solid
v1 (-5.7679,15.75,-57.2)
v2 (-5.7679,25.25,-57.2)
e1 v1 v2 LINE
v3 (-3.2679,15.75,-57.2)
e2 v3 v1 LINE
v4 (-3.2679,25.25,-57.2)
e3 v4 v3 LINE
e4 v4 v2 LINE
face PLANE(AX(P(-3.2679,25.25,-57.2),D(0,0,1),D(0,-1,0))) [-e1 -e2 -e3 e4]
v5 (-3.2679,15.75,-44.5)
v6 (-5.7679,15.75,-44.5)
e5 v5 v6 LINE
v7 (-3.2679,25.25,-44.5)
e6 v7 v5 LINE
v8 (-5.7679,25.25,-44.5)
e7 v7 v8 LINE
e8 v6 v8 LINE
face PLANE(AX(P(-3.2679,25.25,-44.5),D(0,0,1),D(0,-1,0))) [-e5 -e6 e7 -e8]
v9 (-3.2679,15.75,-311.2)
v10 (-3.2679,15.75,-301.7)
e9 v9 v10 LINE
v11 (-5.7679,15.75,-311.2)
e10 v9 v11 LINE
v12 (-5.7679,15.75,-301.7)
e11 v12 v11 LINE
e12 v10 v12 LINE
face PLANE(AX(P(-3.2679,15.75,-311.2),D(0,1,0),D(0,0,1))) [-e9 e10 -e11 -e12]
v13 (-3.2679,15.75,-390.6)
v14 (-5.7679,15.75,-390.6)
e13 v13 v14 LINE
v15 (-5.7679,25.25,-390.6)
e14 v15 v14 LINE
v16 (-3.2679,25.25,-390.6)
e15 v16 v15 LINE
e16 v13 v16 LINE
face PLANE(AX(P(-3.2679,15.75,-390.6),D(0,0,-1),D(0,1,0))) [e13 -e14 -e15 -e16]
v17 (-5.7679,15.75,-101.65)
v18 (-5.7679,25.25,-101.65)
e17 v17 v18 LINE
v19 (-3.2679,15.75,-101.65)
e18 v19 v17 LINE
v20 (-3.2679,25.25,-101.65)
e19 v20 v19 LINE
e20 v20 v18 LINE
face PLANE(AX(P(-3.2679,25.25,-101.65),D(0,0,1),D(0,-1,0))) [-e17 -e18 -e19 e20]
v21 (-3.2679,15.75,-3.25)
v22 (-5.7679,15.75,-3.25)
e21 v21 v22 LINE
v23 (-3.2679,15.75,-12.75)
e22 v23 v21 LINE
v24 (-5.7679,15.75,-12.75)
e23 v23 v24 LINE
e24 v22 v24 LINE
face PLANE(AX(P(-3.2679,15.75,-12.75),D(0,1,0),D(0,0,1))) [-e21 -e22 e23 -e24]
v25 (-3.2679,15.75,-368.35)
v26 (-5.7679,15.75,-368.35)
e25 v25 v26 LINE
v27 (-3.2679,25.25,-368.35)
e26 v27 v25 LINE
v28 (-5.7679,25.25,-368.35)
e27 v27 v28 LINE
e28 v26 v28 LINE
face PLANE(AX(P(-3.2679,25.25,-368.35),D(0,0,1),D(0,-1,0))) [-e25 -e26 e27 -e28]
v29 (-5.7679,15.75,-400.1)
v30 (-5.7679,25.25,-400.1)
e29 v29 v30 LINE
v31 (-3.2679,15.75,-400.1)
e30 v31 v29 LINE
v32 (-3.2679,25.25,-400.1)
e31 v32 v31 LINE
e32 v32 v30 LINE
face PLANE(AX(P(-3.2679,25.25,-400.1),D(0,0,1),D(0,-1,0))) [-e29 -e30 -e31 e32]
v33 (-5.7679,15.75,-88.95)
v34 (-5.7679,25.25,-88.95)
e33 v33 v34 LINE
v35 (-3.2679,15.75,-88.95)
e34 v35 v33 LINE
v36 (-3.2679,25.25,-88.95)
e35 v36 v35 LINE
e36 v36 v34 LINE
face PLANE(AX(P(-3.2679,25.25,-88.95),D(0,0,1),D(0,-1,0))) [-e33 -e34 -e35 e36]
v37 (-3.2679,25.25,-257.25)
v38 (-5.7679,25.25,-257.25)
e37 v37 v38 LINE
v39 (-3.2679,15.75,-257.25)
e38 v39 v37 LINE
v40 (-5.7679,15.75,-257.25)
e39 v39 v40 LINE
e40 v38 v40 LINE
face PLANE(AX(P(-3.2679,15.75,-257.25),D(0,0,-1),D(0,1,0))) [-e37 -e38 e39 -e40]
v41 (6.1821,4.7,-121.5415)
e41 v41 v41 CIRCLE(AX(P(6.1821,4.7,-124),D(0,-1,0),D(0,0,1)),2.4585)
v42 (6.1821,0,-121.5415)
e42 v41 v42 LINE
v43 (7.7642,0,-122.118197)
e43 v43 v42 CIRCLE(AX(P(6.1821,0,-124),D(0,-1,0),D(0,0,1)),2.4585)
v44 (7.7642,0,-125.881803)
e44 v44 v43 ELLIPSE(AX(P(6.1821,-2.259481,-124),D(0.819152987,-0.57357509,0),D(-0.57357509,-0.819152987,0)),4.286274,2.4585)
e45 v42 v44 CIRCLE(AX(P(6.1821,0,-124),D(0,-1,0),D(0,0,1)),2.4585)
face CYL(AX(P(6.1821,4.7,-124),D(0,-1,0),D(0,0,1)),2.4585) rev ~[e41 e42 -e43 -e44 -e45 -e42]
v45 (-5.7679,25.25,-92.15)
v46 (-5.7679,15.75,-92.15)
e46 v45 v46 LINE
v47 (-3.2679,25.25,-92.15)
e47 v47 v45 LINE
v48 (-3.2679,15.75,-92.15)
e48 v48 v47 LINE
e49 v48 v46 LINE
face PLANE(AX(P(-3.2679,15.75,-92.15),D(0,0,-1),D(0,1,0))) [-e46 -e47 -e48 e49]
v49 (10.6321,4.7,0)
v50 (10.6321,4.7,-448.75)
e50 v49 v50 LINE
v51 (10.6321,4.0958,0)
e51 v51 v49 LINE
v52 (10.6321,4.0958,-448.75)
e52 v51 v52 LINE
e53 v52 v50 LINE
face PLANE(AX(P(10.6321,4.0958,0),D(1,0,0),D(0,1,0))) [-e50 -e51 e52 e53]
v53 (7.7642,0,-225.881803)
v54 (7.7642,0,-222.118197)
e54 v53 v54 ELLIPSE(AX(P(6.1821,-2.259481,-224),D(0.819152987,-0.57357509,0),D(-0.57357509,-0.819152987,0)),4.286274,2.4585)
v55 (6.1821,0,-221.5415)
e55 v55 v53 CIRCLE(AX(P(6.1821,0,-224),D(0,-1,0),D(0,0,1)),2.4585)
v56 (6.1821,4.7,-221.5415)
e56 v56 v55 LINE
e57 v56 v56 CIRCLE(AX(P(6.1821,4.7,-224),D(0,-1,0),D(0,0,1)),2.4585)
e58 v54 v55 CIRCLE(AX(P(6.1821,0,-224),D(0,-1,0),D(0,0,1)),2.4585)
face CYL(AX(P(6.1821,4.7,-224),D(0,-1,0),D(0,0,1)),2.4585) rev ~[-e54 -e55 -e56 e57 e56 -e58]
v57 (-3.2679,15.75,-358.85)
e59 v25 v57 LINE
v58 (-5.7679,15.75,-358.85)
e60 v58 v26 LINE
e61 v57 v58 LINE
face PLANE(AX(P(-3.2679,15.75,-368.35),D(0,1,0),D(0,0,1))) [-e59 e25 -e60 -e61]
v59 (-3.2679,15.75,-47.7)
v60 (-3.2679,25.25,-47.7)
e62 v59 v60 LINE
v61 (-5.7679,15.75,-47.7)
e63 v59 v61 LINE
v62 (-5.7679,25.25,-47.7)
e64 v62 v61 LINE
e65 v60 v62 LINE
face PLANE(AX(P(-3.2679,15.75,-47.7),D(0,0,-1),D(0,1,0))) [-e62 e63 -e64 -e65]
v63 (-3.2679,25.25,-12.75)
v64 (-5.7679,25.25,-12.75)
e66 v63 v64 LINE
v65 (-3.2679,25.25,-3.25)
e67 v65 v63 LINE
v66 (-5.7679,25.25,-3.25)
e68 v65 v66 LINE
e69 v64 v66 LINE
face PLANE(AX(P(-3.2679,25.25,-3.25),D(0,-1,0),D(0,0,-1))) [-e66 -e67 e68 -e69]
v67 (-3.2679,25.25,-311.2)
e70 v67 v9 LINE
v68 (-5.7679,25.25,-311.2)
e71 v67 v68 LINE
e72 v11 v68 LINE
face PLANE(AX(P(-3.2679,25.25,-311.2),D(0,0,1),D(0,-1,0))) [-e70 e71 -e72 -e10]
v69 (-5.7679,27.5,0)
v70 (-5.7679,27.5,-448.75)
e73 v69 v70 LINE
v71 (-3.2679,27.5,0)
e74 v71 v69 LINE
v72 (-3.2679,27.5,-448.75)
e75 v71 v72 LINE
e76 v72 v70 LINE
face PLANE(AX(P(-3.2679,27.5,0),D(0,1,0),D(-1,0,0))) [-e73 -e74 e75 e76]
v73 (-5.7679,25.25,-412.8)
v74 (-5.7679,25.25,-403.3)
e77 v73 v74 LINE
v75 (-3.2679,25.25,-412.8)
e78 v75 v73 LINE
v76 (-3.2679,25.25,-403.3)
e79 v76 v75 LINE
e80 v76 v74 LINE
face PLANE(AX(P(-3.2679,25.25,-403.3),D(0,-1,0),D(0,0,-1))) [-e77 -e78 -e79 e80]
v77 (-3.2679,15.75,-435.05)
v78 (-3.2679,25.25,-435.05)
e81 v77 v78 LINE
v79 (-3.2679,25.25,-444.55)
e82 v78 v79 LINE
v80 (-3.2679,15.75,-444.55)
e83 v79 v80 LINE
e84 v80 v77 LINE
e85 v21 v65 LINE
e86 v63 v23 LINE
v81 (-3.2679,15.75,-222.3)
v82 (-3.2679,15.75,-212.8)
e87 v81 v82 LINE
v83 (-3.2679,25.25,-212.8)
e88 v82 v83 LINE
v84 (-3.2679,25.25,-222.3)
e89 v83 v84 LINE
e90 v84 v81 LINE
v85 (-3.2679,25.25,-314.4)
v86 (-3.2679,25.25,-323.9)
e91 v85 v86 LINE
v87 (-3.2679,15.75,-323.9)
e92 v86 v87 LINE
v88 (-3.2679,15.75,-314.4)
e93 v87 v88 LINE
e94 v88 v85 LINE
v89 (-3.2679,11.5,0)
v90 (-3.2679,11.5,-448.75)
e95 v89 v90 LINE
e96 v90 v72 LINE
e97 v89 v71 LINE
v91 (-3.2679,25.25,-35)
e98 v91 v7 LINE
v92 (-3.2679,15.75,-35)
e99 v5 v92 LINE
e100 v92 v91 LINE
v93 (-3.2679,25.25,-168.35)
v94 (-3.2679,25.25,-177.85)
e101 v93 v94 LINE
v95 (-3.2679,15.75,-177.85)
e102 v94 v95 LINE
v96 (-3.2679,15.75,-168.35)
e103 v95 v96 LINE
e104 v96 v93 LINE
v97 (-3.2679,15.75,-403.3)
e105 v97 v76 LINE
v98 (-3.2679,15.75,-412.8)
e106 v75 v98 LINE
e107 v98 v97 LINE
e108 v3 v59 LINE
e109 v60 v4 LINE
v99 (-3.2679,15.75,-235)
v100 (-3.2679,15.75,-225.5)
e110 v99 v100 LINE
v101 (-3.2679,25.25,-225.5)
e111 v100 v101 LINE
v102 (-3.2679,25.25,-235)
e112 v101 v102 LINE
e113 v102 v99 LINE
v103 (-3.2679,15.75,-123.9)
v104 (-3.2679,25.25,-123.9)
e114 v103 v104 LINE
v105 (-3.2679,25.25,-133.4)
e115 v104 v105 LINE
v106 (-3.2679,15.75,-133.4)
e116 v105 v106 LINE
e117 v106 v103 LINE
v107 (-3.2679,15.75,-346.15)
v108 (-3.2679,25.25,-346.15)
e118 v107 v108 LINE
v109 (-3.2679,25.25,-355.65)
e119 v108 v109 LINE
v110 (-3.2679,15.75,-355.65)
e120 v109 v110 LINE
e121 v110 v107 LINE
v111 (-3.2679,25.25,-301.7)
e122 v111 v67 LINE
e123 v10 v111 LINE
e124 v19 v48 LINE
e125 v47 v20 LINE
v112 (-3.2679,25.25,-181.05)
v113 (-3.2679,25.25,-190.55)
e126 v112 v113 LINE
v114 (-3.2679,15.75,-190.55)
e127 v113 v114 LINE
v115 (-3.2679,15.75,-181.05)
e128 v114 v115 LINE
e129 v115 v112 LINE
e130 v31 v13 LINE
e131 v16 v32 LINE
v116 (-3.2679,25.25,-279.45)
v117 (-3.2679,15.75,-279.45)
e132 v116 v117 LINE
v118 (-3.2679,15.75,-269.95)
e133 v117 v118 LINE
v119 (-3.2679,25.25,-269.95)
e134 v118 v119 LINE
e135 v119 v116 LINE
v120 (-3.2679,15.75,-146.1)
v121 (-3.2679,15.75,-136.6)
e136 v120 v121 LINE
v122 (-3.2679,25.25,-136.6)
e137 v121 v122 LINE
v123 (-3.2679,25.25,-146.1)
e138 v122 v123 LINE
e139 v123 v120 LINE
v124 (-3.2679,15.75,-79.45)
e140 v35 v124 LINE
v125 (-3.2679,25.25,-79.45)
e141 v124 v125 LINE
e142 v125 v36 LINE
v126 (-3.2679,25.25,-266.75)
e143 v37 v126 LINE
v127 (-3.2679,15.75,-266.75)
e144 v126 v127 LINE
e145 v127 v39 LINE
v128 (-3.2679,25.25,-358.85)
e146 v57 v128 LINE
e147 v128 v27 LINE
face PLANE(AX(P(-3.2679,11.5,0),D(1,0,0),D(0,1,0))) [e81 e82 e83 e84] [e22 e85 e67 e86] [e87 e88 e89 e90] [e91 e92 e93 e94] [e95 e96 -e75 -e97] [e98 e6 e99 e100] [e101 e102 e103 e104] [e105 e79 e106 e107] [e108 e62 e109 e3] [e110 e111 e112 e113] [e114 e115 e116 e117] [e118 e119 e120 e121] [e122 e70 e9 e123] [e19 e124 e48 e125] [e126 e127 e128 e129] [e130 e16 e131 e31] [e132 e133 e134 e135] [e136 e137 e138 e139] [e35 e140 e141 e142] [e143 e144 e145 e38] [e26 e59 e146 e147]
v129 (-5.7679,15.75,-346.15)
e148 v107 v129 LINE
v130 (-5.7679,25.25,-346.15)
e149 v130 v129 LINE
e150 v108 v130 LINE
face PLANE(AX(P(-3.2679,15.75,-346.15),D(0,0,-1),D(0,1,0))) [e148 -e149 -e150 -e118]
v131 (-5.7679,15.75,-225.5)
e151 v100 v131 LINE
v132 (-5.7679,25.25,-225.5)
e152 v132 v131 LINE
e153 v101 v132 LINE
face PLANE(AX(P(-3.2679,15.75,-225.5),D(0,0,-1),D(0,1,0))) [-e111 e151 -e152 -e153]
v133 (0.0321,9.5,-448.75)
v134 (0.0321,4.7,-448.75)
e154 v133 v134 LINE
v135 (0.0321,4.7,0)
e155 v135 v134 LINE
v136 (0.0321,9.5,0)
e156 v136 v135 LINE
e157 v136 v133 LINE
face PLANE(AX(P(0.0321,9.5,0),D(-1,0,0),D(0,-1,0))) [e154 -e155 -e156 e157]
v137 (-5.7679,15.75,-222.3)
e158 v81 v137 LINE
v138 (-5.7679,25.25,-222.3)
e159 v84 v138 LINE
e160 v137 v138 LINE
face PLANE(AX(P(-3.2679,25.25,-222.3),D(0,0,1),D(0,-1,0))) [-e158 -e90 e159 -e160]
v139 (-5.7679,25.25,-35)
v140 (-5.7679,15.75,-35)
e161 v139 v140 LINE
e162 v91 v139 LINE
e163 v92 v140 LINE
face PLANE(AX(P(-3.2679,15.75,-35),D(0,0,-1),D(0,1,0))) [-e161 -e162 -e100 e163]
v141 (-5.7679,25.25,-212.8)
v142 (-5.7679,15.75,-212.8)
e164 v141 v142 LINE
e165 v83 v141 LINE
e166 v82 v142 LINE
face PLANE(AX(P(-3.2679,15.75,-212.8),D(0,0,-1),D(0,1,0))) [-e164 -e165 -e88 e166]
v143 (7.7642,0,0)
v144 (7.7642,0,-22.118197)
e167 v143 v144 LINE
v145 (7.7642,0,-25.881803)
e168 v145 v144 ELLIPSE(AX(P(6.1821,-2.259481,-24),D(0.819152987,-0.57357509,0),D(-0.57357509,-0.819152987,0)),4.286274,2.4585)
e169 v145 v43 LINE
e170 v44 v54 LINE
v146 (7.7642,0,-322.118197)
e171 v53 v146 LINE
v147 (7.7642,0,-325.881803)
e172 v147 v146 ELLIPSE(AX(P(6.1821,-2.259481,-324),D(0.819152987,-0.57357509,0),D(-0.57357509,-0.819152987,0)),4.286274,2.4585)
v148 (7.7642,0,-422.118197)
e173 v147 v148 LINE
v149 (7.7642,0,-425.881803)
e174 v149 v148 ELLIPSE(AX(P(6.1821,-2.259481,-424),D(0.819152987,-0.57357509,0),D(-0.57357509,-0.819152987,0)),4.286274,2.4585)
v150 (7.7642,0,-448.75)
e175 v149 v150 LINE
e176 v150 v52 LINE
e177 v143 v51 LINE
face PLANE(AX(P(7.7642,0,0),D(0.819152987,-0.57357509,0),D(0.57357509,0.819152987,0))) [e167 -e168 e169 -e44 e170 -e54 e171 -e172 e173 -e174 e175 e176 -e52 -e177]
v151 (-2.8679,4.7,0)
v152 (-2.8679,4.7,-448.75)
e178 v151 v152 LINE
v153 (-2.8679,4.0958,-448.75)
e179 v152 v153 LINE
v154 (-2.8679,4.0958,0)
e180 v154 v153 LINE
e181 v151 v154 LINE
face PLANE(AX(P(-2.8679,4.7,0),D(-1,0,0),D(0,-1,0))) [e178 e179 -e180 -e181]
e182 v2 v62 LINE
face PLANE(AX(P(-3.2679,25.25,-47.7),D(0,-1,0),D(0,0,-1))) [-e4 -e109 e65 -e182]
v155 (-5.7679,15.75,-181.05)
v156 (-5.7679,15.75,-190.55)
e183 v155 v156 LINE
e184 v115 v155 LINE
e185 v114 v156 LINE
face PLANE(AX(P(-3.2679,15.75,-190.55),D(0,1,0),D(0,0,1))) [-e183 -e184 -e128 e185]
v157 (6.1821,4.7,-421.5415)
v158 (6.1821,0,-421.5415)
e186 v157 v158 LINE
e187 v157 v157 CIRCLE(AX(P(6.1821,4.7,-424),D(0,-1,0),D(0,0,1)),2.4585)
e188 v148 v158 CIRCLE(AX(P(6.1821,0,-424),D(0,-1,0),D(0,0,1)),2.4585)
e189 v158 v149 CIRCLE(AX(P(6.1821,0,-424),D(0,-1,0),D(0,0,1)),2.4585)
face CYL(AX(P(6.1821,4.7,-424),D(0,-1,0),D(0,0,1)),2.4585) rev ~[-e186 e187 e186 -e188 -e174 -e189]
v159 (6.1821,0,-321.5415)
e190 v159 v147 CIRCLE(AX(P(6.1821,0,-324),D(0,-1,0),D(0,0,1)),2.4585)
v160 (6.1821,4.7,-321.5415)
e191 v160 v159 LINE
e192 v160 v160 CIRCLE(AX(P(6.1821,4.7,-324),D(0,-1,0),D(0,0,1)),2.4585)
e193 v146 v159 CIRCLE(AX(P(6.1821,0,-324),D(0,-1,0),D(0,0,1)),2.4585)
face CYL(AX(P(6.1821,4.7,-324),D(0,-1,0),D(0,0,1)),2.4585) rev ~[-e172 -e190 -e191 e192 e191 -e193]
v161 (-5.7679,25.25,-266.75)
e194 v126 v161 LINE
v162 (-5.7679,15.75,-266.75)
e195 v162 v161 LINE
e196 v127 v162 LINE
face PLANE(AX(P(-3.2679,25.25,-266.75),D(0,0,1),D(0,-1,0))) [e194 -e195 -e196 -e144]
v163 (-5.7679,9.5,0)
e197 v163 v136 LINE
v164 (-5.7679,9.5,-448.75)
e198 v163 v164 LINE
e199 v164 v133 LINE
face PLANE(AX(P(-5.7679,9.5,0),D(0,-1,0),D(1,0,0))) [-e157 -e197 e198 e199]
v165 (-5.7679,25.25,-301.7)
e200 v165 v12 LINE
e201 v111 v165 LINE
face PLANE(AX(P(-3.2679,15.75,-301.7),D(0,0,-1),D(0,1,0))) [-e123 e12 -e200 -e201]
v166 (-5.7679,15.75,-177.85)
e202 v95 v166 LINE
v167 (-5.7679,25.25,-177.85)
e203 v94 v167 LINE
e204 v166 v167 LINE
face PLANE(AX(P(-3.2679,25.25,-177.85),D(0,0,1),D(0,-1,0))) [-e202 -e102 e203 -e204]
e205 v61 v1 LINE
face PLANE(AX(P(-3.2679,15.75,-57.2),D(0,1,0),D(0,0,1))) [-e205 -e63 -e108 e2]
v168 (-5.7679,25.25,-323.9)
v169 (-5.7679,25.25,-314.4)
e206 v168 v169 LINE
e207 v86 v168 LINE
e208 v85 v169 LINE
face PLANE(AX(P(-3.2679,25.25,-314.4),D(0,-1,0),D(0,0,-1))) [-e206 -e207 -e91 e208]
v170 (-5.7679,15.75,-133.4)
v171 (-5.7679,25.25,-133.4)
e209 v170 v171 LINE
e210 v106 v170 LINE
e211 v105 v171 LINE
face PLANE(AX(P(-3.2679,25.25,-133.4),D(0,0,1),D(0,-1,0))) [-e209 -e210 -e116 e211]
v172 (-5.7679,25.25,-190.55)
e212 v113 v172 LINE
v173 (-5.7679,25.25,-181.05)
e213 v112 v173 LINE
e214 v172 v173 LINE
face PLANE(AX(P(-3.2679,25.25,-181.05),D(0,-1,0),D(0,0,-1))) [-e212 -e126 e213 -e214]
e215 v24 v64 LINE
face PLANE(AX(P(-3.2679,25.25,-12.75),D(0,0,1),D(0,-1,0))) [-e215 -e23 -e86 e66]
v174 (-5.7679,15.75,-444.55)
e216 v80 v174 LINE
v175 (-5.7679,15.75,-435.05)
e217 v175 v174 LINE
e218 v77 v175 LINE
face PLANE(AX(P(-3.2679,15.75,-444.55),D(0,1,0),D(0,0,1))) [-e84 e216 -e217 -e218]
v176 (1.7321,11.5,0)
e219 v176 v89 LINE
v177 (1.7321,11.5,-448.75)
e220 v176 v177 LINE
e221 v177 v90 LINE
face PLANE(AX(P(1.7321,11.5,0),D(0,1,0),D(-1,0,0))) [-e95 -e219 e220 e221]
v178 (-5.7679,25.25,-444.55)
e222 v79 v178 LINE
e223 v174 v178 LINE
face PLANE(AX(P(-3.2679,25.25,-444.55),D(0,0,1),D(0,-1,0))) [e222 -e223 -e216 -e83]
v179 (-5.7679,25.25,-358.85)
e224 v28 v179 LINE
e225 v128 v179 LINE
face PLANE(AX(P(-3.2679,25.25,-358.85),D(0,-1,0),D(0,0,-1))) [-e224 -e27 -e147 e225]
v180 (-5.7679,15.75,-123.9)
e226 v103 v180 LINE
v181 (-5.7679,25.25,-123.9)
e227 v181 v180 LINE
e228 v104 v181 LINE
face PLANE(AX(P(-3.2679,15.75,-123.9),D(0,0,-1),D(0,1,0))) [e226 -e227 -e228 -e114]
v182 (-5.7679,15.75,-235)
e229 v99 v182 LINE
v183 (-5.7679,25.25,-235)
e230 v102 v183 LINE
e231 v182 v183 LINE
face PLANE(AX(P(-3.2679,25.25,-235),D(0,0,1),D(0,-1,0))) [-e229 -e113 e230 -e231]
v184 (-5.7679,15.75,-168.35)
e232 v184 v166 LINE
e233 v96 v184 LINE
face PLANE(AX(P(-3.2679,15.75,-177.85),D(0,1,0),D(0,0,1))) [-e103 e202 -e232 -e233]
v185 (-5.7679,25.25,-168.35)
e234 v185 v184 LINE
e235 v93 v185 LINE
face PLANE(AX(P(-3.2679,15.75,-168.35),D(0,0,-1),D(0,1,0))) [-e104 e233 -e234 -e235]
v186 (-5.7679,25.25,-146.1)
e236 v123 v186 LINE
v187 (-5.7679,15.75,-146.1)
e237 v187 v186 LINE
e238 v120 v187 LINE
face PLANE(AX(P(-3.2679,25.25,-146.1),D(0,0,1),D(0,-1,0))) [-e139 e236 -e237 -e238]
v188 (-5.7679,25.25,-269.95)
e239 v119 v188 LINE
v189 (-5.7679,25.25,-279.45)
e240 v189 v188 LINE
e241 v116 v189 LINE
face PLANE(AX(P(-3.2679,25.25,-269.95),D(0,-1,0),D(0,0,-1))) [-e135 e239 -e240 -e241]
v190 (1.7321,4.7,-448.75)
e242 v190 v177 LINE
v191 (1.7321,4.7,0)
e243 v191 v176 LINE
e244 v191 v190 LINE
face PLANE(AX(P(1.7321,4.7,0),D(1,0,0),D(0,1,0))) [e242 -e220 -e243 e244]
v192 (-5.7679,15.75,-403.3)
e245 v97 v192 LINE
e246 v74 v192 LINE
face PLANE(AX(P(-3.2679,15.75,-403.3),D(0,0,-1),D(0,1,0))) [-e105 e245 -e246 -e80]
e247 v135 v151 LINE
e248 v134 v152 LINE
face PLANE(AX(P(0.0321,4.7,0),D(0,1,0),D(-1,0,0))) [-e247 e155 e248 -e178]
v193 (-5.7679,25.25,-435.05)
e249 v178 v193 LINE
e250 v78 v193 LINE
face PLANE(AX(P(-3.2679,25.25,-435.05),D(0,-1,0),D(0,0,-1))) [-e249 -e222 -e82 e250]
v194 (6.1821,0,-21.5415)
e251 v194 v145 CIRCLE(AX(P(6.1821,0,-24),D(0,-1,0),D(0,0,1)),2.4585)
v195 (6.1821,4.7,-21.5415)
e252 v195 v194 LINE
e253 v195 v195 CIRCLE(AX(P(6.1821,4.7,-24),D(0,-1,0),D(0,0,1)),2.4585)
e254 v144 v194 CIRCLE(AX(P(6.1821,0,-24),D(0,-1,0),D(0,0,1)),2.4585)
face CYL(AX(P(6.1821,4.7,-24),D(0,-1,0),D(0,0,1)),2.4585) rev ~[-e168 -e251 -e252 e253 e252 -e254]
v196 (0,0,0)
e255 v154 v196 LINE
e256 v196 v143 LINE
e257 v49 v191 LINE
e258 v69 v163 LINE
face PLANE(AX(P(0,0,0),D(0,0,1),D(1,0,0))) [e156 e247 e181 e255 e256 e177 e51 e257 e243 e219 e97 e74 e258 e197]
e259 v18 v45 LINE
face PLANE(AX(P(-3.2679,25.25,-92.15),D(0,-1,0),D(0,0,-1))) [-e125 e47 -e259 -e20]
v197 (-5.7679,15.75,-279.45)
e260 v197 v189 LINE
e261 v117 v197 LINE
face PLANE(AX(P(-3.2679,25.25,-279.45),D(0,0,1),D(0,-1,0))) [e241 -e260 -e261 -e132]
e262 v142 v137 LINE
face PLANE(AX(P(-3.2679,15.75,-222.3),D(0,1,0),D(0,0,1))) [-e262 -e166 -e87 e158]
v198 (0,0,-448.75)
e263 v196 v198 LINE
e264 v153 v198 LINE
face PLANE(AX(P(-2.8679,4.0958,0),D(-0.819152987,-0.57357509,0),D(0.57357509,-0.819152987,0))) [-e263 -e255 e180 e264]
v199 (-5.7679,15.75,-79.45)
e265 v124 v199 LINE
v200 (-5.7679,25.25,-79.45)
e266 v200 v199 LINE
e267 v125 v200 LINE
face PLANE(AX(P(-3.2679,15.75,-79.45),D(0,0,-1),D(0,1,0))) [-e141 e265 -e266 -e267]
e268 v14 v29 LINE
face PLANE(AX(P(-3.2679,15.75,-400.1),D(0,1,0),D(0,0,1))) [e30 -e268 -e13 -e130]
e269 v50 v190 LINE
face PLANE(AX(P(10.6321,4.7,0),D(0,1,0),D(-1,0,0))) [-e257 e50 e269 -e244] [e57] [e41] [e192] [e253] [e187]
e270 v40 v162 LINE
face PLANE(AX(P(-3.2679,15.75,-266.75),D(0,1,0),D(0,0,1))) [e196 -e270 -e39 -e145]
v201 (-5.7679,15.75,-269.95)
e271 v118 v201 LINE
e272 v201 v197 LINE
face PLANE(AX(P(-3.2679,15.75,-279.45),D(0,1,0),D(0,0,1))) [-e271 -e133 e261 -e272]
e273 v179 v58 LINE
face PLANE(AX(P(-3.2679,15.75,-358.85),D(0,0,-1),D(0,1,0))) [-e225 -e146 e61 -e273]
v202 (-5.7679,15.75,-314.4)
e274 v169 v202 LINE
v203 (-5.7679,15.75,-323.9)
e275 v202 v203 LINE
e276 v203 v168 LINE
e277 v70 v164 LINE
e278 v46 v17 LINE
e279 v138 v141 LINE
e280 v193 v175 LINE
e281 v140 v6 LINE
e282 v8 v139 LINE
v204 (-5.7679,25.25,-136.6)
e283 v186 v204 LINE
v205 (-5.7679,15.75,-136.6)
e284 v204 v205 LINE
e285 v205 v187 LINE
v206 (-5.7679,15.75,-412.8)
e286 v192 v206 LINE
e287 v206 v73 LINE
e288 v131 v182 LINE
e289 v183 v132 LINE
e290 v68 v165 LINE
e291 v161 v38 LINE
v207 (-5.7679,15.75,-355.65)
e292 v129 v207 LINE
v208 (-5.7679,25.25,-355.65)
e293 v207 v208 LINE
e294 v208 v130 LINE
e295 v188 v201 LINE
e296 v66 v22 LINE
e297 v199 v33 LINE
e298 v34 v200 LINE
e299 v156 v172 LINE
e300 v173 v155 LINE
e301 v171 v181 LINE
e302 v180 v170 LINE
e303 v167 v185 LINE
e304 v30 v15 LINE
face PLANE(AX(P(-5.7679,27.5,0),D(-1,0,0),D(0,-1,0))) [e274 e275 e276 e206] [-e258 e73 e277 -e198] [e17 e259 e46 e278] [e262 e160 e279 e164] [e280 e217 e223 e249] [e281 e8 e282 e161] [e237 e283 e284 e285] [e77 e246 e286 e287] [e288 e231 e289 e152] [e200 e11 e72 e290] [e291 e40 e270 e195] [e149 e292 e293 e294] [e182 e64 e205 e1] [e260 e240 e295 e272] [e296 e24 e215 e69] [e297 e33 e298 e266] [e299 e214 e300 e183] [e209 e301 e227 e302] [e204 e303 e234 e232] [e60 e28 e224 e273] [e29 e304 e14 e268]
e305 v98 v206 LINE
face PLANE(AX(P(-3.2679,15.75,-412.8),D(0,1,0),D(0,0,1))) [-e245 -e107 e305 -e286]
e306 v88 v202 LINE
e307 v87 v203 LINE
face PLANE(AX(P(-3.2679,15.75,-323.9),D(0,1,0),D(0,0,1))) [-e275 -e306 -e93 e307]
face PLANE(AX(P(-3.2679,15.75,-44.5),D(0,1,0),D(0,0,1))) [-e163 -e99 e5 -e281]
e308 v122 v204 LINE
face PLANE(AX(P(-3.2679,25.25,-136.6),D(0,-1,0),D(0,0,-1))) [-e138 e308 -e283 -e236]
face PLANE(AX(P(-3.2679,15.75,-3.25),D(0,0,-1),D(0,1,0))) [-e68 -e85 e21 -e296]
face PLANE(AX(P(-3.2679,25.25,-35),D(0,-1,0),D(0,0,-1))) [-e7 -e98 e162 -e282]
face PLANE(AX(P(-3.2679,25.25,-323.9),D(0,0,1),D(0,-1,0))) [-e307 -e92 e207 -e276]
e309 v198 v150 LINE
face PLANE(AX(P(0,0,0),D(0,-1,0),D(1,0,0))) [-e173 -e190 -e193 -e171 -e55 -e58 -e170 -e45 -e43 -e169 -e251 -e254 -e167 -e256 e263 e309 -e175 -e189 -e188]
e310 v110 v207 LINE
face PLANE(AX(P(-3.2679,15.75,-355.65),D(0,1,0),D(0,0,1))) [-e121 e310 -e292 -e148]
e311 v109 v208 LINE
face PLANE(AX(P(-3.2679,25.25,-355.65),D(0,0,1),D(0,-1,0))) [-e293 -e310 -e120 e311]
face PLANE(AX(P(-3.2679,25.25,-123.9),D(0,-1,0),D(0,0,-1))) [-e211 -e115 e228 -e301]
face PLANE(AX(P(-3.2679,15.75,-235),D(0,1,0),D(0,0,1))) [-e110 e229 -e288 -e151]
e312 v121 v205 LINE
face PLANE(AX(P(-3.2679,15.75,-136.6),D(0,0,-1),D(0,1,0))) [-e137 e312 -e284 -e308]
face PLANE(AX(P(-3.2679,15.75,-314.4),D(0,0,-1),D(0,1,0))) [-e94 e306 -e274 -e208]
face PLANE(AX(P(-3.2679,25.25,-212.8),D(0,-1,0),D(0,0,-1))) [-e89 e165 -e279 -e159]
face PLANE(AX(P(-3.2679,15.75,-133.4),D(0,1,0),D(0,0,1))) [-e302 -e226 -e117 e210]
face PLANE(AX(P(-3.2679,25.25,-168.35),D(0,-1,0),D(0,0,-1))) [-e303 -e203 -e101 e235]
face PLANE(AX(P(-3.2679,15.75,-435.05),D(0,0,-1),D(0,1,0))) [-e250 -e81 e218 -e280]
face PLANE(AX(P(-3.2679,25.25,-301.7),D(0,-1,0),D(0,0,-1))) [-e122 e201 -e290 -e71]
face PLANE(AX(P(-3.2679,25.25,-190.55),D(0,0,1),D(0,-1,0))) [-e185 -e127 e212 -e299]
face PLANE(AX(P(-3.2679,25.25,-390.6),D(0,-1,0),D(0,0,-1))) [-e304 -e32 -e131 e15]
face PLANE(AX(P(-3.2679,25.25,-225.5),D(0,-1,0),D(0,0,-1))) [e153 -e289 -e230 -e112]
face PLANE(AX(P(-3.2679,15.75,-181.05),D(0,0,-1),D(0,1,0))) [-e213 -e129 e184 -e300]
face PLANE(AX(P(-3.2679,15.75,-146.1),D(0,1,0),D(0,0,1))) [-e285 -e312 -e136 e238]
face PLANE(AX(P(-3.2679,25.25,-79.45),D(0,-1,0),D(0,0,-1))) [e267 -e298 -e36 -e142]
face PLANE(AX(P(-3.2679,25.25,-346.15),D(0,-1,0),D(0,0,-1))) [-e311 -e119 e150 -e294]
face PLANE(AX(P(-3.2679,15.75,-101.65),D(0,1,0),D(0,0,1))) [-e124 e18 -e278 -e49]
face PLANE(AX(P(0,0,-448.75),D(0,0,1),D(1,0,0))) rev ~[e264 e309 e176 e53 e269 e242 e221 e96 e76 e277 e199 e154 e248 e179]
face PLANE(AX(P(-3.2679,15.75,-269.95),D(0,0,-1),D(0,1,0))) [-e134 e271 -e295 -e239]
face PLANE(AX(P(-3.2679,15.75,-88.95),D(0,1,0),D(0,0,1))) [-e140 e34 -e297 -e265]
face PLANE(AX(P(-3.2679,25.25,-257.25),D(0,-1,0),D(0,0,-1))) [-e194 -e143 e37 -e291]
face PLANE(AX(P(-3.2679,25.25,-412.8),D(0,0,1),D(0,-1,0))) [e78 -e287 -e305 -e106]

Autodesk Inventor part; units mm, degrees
ref_plane "YZ Plane" through (0, 0, 0) normal (1, 0, 0) x (0, 1, 0)
ref_plane "XZ Plane" through (0, 0, 0) normal (0, 1, 0) x (-1, 0, 0)
ref_plane "XY Plane" through (0, 0, 0) normal (0, 0, 1) x (1, 0, 0)
sketch "Sketch1" plane through (0, 0, 0) normal (0, 0, 1) x (1, 0, 0)
  line L0 (-2.8679, 4.0958) -> (0, 0)
  line L1 (0, 0) -> (7.7642, 0)
  line L2 (7.7642, 0) -> (10.6321, 4.0958)
  line L3 (10.6321, 4.0958) -> (10.6321, 4.7)
  line L4 (10.6321, 4.7) -> (1.7321, 4.7)
  line L5 (1.7321, 4.7) -> (1.7321, 11.5)
  line L6 (1.7321, 11.5) -> (-3.2679, 11.5)
  line L7 (-3.2679, 11.5) -> (-3.2679, 27.5)
  line L8 (-3.2679, 27.5) -> (-5.7679, 27.5)
  line L9 (-5.7679, 27.5) -> (-5.7679, 9.5)
  line L10 (-5.7679, 9.5) -> (0.0321, 9.5)
  line L11 (0.0321, 9.5) -> (0.0321, 4.7)
  line L12 (0.0321, 4.7) -> (-2.8679, 4.7)
  line L13 (-2.8679, 4.7) -> (-2.8679, 4.0958)
extrude "Extrusion1" add sketch "Sketch1" against normal blind 448.75
sketch "Sketch2" plane through (1.7321, 4.7, 0) normal (0, 1, 0) x (1, 0, 0)
  line L0 (8.9, 0) -> (0, 0) projected
  point P0 (4.45, 24)
  point P1 (4.45, 0)
  dimension "d2" = 24
hole "Hole1" at (6.1821, 4.7, -24) direction (0, -1, 0) diameter 4.917 end through all thread size "M6x1" class "6H" standard "ANSI Metric M Profile"
pattern_linear "Rectangular Pattern1" count 5 spacing 100 along (0, 0, -1) of "Hole1"
sketch "Sketch3" plane through (-3.2679, 11.5, 0) normal (1, 0, 0) x (0, 0, -1)
  line L0 (3.25, 13.75) -> (12.75, 13.75)
  line L1 (12.75, 13.75) -> (12.75, 4.25)
  line L2 (12.75, 4.25) -> (3.25, 4.25)
  line L3 (3.25, 4.25) -> (3.25, 13.75)
  line L4 (8, 13.75) -> (8, 4.25) construction
  line L5 (0, 0) -> (0, 16) construction
  line L6 (3.25, 9) -> (12.75, 9) construction
  line L7 (0, -2) -> (448.75, -2) construction
  dimension "d13" = 9.5
  dimension "d14" = 8
  dimension "d15" = 11
extrude "12-109M" cut sketch "Sketch3" against normal through all
pattern_linear "Rectangular Pattern2" count 2 spacing 31.75 along (0, 0, -1) count 10 spacing 44.45 along (0, 0, -1) of "12-109M"
properties part number "TBD" material "Aluminum-6061"
